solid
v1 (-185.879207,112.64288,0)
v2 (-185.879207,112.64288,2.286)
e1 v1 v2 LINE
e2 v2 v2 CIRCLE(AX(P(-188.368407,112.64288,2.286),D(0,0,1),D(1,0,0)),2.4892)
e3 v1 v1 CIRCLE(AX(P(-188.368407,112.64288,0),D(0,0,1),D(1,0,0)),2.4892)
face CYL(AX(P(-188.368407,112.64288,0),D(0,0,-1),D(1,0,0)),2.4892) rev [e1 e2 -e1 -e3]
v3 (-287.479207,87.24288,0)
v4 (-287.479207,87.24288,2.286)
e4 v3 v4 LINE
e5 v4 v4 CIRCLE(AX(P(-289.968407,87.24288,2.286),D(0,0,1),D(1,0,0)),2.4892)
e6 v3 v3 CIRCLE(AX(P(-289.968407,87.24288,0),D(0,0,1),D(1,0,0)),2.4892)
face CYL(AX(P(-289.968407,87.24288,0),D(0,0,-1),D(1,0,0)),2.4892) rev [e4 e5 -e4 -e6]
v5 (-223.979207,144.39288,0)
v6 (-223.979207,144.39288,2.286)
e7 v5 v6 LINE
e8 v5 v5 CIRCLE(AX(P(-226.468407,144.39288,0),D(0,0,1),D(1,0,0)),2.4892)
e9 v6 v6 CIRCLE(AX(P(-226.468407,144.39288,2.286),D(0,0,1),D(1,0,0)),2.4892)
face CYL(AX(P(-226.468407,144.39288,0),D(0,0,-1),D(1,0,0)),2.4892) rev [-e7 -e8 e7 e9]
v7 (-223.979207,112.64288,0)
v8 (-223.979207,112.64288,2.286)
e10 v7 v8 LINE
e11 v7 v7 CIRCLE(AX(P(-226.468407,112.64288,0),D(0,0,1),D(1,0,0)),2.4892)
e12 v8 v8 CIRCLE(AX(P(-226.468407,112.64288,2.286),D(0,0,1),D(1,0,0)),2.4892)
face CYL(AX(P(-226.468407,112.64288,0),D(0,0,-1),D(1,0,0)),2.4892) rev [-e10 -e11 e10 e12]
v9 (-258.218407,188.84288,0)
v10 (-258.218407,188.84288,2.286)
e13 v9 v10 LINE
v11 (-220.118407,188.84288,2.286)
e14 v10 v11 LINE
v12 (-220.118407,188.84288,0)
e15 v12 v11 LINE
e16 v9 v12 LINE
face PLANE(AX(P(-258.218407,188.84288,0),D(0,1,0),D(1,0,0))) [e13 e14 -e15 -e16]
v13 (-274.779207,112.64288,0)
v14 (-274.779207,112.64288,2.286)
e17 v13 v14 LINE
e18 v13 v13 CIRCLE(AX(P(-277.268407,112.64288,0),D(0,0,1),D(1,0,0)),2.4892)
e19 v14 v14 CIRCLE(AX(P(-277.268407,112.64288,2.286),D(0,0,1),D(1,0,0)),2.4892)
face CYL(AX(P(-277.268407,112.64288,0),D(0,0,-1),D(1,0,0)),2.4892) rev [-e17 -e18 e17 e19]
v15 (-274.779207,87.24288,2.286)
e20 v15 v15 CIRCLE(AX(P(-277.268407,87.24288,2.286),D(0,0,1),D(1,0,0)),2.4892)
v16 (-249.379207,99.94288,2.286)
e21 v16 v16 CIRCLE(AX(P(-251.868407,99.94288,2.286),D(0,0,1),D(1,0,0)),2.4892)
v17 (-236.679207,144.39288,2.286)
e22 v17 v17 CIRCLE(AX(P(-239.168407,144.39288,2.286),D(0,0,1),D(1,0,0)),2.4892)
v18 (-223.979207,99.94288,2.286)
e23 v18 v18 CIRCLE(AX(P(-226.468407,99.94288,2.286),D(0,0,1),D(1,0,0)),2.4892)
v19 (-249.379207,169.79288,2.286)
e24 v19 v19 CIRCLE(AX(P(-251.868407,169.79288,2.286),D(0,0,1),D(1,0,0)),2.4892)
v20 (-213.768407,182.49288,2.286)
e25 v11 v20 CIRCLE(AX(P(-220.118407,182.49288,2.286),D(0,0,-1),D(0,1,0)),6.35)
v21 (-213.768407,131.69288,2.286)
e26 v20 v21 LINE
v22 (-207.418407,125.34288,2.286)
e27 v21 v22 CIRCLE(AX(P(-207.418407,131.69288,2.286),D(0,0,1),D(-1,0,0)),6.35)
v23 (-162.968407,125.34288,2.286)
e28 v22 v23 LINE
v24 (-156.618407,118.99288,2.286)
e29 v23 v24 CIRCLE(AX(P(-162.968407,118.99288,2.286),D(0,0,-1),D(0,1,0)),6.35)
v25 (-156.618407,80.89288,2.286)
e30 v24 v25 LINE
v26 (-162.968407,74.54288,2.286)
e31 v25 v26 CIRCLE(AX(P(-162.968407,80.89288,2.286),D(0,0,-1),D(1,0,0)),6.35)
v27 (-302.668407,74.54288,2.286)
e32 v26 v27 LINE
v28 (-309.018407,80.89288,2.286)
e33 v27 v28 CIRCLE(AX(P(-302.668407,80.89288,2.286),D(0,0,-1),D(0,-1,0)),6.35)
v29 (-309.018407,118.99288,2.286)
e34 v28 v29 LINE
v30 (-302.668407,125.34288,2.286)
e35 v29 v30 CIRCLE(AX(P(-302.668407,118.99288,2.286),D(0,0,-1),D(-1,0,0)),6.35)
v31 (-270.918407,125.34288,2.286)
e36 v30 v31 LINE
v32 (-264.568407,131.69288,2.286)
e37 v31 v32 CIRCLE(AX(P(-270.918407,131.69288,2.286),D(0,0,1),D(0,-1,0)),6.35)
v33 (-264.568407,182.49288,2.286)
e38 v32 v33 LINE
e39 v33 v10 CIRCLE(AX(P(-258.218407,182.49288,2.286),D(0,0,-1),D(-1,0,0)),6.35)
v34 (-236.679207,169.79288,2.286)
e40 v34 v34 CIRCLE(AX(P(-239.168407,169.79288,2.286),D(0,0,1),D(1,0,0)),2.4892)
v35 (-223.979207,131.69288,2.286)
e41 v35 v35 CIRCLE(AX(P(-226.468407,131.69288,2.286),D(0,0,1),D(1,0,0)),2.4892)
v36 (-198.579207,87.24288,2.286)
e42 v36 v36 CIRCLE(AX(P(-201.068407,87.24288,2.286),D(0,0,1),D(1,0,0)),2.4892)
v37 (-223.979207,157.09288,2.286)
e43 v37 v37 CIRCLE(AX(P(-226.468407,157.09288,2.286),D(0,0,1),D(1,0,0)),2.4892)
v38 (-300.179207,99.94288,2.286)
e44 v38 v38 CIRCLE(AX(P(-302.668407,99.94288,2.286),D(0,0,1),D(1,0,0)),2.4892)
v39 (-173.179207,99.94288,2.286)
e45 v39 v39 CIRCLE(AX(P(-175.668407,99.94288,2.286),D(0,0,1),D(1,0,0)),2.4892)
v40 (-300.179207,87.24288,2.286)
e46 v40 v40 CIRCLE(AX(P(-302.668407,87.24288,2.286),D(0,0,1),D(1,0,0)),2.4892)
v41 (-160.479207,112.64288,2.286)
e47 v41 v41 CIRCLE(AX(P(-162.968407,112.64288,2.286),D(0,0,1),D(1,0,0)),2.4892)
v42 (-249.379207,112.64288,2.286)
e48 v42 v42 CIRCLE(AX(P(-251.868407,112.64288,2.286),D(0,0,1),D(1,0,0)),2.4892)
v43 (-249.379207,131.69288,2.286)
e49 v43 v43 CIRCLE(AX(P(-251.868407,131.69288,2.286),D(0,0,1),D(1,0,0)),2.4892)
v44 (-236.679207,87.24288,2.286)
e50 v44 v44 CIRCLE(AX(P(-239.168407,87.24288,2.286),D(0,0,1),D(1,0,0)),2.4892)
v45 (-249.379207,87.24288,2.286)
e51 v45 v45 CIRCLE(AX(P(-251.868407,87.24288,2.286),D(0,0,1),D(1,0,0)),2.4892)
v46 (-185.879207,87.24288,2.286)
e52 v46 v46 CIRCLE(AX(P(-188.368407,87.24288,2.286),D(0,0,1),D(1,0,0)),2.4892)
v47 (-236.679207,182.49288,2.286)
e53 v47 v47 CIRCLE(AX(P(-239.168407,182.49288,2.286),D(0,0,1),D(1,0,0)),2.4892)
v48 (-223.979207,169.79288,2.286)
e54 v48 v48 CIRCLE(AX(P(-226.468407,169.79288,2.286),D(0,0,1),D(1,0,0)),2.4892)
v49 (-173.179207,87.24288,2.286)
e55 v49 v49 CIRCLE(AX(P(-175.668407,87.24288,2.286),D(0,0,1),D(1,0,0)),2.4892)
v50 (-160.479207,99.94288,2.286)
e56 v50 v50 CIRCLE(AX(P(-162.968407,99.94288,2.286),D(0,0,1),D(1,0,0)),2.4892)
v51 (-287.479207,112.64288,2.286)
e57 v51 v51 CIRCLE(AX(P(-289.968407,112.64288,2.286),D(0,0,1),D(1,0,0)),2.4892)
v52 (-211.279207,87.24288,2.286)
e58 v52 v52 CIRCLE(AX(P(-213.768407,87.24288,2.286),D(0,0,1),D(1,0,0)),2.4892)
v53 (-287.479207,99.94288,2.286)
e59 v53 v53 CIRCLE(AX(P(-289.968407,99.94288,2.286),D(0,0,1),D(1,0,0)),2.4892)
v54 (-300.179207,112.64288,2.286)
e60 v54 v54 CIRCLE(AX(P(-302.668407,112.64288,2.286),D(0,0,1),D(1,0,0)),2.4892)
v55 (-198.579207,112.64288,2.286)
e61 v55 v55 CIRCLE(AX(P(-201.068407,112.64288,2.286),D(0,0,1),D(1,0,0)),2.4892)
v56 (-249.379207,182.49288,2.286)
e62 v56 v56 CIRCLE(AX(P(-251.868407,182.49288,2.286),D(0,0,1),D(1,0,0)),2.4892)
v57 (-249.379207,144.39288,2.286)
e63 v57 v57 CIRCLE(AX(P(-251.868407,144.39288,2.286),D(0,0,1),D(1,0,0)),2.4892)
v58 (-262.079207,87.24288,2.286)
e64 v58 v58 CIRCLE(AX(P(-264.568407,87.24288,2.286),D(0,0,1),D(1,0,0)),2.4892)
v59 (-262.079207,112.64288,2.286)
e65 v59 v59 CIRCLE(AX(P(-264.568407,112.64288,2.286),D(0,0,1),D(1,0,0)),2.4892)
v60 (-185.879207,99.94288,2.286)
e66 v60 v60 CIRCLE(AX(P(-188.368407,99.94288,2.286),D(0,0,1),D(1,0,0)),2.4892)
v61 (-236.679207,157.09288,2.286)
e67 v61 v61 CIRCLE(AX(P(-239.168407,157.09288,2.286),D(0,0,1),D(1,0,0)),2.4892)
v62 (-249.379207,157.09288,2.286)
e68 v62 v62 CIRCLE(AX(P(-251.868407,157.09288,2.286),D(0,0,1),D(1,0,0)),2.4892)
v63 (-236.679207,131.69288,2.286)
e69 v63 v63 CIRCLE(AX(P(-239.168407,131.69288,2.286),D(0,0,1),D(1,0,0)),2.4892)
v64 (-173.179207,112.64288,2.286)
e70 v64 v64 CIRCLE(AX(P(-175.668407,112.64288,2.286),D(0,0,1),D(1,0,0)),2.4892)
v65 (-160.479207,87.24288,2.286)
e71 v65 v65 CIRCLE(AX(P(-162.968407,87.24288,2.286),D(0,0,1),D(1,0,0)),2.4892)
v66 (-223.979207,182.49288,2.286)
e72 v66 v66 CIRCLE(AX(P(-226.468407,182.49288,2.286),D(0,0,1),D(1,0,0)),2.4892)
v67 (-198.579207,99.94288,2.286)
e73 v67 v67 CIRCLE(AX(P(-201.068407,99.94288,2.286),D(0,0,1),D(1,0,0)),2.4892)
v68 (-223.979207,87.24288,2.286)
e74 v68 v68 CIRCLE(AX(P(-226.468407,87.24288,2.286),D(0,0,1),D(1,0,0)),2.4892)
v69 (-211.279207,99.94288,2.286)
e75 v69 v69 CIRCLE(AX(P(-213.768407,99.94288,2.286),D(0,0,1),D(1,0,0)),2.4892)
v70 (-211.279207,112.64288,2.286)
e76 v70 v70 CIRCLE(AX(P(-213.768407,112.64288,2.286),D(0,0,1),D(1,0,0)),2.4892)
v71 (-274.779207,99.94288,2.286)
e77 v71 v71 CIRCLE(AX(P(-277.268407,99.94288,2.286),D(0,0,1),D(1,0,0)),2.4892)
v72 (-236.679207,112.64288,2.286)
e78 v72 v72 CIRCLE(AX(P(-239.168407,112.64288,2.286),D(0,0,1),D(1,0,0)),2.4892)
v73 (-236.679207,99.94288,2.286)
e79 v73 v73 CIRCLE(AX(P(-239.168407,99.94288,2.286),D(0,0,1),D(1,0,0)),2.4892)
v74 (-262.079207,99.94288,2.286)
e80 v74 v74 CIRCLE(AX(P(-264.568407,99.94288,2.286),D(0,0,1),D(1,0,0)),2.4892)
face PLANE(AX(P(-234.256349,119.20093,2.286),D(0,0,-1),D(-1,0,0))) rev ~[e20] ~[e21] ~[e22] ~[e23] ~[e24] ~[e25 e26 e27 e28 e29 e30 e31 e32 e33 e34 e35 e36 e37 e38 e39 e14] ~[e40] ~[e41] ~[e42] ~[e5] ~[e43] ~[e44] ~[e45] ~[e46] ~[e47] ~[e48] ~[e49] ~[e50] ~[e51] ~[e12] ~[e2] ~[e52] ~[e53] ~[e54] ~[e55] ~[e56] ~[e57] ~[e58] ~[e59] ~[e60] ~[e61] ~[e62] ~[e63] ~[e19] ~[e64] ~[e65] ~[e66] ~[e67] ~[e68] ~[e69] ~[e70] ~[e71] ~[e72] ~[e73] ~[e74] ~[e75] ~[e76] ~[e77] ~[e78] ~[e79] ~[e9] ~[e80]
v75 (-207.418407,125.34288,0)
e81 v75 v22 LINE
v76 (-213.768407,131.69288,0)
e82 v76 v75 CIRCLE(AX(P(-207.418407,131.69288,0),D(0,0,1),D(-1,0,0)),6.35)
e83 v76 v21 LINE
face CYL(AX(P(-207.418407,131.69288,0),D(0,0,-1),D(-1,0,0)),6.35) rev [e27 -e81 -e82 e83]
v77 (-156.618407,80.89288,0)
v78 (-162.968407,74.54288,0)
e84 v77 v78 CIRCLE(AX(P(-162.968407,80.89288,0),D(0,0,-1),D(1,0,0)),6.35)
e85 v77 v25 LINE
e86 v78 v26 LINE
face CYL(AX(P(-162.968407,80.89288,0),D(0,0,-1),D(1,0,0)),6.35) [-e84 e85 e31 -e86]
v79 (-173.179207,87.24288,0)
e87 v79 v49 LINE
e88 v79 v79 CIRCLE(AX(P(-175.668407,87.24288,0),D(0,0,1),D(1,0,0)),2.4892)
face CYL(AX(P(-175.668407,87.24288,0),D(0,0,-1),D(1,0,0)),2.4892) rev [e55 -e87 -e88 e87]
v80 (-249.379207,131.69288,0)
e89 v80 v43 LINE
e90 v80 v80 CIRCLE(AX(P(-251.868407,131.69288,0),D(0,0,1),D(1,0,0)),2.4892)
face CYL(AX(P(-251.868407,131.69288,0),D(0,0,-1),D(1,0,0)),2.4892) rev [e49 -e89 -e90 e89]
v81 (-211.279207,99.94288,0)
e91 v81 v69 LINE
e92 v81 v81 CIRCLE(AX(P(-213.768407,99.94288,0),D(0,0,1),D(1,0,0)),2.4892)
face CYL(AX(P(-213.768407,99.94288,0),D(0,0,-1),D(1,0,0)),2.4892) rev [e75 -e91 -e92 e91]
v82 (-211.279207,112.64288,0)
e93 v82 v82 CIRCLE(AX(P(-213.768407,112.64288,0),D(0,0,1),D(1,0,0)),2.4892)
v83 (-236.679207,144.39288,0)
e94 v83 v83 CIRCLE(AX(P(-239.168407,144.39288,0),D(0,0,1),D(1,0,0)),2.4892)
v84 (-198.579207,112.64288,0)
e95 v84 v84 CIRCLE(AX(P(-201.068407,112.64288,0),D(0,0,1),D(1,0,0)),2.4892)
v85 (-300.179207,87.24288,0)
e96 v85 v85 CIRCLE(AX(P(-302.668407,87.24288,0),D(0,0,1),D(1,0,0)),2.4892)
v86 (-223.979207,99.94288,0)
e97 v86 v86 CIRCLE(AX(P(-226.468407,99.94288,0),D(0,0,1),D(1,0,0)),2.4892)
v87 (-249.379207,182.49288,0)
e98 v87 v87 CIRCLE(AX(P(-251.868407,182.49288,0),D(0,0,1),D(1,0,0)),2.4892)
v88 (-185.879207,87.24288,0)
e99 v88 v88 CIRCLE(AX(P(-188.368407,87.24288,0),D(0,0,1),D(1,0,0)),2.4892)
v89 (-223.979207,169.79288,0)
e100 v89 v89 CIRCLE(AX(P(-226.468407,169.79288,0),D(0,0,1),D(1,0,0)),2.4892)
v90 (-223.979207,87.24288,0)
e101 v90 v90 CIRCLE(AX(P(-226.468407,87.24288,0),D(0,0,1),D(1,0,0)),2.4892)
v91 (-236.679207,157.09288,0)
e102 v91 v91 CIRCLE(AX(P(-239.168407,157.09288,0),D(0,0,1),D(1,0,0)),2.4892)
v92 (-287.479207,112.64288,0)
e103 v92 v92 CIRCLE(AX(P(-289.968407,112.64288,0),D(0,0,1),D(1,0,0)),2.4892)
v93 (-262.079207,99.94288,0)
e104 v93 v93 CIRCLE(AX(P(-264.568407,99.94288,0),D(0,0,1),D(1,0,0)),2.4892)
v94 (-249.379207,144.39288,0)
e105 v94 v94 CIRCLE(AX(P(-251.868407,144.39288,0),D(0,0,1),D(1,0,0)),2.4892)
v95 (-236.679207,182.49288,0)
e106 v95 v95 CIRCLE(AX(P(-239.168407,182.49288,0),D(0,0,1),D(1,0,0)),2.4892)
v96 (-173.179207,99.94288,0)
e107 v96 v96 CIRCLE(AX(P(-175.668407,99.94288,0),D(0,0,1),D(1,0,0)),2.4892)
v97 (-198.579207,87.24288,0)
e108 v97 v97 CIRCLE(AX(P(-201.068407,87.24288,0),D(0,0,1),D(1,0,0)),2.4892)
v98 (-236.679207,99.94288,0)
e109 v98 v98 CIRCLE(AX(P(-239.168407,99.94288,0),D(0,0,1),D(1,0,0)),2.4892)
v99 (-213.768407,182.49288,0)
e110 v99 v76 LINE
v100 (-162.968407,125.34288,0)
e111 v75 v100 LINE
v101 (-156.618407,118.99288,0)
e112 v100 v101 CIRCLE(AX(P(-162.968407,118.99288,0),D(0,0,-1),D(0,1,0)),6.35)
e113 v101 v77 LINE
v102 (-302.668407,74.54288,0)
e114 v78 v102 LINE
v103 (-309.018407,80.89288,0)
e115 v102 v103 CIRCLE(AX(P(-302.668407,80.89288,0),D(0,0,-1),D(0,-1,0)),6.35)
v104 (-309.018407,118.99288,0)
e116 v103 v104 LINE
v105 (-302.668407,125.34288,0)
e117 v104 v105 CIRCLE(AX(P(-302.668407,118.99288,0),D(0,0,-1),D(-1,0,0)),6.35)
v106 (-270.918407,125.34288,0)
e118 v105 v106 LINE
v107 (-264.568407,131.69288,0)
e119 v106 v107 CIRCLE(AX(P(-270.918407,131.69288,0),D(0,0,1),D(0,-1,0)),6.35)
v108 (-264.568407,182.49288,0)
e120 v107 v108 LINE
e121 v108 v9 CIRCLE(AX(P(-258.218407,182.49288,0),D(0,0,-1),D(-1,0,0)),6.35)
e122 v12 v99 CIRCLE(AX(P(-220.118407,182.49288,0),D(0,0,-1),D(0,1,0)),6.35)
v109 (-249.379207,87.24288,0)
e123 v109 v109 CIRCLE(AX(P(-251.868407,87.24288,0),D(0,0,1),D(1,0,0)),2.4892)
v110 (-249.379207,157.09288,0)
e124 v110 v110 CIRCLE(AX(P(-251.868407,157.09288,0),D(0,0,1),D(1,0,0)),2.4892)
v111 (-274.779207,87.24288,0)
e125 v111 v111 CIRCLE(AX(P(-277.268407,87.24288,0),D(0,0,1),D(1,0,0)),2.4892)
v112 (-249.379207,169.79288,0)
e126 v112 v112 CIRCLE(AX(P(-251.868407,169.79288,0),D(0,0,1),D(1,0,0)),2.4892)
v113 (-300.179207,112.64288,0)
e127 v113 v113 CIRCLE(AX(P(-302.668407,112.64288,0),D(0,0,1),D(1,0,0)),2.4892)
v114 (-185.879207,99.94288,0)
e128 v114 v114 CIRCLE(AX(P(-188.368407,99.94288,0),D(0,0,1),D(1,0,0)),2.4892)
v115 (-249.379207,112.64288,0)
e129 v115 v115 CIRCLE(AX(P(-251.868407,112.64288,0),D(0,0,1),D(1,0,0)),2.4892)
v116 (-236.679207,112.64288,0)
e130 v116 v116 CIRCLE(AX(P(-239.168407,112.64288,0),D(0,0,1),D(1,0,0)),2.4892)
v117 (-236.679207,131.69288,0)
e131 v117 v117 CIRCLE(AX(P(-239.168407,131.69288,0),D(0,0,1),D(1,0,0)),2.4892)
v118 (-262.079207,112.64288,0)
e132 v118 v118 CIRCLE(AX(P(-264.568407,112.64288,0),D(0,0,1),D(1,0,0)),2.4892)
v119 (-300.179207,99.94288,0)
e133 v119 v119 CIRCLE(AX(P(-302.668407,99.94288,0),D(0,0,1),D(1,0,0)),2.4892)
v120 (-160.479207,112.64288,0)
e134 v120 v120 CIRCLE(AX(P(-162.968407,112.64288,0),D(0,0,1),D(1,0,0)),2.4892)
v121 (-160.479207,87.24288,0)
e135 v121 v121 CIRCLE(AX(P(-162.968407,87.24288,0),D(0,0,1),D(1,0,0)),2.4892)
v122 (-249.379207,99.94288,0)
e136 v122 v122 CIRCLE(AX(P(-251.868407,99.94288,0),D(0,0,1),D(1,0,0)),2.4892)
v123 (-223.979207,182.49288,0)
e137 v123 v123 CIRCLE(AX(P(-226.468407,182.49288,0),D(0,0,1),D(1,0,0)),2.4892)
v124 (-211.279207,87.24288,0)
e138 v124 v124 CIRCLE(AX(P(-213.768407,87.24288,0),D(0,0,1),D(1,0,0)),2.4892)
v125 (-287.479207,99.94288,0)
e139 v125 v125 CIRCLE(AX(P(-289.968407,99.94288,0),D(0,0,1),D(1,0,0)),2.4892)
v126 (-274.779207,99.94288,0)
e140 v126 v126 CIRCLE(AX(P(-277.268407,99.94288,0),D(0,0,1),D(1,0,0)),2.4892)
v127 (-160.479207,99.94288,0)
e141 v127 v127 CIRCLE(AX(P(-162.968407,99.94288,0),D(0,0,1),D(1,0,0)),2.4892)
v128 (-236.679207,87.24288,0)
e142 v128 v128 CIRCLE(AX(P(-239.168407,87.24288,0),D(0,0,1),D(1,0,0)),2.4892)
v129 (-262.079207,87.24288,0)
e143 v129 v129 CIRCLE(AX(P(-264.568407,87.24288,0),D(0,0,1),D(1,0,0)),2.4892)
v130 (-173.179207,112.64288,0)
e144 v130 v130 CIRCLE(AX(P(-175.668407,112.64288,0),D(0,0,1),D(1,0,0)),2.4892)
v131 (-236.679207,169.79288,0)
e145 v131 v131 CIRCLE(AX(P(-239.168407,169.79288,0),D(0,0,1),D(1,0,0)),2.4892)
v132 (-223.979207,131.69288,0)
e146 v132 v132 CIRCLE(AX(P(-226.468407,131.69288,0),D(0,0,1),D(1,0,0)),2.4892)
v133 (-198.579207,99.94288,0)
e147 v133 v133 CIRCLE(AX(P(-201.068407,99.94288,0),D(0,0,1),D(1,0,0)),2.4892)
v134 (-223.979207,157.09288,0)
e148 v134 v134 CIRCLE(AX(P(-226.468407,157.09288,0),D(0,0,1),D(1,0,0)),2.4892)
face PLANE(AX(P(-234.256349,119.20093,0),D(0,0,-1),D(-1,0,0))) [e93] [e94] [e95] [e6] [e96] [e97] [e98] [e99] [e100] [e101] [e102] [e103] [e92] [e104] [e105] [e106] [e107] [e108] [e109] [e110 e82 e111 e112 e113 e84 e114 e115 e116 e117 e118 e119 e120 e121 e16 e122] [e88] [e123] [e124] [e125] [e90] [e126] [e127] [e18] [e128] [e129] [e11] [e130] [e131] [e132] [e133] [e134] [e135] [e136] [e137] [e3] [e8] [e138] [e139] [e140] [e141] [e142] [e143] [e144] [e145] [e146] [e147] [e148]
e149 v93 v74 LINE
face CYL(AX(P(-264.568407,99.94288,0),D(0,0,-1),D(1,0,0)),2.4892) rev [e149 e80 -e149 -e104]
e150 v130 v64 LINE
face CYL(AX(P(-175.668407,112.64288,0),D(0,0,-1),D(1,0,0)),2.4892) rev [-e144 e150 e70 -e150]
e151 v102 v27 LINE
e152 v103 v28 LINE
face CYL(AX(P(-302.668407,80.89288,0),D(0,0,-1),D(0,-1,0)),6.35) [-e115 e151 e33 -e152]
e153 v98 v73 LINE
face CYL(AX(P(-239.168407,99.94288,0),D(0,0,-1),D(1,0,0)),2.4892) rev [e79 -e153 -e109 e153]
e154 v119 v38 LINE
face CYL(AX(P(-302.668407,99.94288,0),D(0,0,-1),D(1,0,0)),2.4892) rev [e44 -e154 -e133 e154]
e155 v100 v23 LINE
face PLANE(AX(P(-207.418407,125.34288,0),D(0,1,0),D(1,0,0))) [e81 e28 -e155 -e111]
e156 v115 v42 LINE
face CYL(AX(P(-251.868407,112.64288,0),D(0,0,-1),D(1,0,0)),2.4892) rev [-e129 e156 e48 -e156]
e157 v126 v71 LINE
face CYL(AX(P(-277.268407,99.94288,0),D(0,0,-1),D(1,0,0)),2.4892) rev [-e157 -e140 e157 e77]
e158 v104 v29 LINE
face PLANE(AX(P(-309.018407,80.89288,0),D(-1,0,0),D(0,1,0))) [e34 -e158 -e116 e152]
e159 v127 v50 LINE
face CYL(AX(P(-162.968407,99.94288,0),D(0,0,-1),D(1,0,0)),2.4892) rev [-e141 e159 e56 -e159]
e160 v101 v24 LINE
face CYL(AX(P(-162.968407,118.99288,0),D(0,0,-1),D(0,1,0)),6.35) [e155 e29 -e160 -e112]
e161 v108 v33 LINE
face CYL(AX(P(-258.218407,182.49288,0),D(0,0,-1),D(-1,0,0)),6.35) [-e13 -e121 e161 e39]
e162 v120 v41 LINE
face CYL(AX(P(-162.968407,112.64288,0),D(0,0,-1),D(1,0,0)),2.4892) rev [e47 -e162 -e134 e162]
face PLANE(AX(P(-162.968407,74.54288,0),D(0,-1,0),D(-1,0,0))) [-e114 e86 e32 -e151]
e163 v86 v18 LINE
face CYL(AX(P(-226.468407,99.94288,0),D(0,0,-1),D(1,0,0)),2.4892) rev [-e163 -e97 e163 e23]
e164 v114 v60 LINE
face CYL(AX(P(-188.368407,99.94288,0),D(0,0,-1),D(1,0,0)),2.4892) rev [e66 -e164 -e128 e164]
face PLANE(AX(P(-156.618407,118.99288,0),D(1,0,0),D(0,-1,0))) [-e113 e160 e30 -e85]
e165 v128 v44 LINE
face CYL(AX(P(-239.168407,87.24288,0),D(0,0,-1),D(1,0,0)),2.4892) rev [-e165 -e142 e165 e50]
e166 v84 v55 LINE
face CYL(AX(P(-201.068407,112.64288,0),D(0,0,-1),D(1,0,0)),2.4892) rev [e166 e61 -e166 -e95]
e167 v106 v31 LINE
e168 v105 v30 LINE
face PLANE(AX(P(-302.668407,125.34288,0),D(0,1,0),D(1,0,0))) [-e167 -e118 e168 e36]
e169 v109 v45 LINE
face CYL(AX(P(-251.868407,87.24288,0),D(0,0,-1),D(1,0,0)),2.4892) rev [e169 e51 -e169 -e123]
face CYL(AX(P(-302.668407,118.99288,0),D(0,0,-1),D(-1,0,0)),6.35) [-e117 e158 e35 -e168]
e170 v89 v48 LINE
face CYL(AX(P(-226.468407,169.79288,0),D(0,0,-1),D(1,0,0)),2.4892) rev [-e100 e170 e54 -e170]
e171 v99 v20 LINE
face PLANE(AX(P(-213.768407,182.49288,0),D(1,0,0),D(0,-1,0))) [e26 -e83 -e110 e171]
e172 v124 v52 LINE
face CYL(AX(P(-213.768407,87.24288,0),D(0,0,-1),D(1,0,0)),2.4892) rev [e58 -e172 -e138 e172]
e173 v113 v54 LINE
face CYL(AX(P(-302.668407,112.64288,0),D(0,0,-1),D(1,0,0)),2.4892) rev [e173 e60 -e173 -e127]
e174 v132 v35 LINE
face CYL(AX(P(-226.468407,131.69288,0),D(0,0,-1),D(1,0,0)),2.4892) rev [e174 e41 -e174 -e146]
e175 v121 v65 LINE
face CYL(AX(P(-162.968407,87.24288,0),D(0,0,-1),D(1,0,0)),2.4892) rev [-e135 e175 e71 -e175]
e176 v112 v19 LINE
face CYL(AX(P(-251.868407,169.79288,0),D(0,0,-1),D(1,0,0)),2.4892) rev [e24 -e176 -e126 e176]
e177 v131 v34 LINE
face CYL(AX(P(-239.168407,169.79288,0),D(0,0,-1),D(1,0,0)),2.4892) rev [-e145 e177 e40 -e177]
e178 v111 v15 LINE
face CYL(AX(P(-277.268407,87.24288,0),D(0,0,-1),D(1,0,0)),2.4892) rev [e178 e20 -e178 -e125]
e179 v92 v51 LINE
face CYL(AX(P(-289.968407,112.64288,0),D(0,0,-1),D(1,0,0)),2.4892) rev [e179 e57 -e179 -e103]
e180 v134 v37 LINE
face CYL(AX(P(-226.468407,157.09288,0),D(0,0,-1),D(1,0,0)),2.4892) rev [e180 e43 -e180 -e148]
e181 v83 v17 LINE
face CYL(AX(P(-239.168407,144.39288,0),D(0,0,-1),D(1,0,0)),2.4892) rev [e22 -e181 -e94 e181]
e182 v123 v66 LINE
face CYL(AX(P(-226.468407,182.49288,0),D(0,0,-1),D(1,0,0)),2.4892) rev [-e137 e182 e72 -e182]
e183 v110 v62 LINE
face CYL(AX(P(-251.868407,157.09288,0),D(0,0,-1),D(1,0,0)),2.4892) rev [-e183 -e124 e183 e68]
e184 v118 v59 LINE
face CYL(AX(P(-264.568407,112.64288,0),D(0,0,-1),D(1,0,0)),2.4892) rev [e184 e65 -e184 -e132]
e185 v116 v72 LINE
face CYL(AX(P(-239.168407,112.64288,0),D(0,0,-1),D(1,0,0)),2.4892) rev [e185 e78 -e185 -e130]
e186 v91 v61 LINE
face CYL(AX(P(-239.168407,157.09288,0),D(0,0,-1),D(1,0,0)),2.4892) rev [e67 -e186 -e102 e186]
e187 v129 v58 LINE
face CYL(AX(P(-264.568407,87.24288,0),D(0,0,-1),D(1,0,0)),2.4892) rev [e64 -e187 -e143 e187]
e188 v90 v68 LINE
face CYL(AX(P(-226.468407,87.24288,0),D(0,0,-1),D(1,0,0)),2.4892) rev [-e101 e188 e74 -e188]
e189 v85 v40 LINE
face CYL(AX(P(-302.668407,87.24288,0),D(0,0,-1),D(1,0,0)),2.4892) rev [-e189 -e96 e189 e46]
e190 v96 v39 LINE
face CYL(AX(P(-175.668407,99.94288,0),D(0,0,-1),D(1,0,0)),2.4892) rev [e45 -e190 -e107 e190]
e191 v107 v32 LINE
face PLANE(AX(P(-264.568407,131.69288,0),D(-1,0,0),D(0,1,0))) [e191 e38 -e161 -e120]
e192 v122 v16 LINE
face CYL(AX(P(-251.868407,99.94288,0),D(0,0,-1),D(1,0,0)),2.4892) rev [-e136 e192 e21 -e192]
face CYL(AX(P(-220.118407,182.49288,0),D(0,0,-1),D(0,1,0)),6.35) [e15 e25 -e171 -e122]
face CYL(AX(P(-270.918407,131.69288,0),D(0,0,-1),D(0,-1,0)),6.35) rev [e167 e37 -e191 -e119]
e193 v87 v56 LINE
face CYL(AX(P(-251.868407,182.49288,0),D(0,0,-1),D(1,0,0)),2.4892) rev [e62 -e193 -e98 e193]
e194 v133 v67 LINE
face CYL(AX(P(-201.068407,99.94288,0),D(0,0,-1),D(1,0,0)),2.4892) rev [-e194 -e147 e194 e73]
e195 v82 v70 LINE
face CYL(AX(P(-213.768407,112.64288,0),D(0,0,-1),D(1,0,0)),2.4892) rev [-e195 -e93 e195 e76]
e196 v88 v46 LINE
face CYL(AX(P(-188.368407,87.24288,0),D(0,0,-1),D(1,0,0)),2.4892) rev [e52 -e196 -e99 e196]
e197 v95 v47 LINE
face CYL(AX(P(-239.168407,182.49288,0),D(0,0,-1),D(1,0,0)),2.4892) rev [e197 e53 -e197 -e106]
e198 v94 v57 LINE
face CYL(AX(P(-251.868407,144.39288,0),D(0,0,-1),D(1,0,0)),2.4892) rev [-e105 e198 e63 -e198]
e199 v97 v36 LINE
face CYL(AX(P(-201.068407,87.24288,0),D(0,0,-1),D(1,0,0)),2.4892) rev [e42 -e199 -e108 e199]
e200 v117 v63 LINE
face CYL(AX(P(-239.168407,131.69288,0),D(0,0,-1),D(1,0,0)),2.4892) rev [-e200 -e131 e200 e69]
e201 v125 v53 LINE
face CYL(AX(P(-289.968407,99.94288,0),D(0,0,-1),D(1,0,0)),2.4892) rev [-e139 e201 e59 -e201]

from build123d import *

# Parameters (mm, degrees)
SKETCH1_R           = 2.4892
BOSS_EXTRUDE1_DEPTH = 2.286


with BuildPart() as part:
    # Sketch1 → Boss-Extrude1 (new body)
    with BuildSketch(Plane.XY):
        with BuildLine():
            Line((-258.218407496, 188.842880428), (-220.118407496, 188.842880428))
            ThreePointArc((-220.118407496, 188.842880428), (-215.628279435, 186.983008489), (-213.768407496, 182.492880428))
            Line((-213.768407496, 182.492880428), (-213.768407496, 131.692880428))
            ThreePointArc((-213.768407496, 131.692880428), (-211.908535556, 127.202752368), (-207.418407496, 125.342880428))
            Line((-207.418407496, 125.342880428), (-162.968407496, 125.342880428))
            ThreePointArc((-162.968407496, 125.342880428), (-158.478279435, 123.483008489), (-156.618407496, 118.992880428))
            Line((-156.618407496, 118.992880428), (-156.618407496, 80.892880428))
            ThreePointArc((-156.618407496, 80.892880428), (-158.478279435, 76.402752368), (-162.968407496, 74.542880428))
            Line((-162.968407496, 74.542880428), (-302.668407496, 74.542880428))
            ThreePointArc((-302.668407496, 74.542880428), (-307.158535556, 76.402752368), (-309.018407496, 80.892880428))
            Line((-309.018407496, 80.892880428), (-309.018407496, 118.992880428))
            ThreePointArc((-309.018407496, 118.992880428), (-307.158535556, 123.483008489), (-302.668407496, 125.342880428))
            Line((-302.668407496, 125.342880428), (-270.918407496, 125.342880428))
            ThreePointArc((-270.918407496, 125.342880428), (-266.428279435, 127.202752368), (-264.568407496, 131.692880428))
            Line((-264.568407496, 131.692880428), (-264.568407496, 182.492880428))
            ThreePointArc((-264.568407496, 182.492880428), (-262.708535556, 186.983008489), (-258.218407496, 188.842880428))
        make_face()
        with Locations((-226.468407496, 157.092880428)):
            Circle(SKETCH1_R, mode=Mode.SUBTRACT)
        with Locations((-226.468407496, 144.392880428)):
            Circle(SKETCH1_R, mode=Mode.SUBTRACT)
        with Locations((-226.468407496, 131.692880428)):
            Circle(SKETCH1_R, mode=Mode.SUBTRACT)
        with Locations((-239.168407496, 131.692880428)):
            Circle(SKETCH1_R, mode=Mode.SUBTRACT)
        with Locations((-251.868407496, 131.692880428)):
            Circle(SKETCH1_R, mode=Mode.SUBTRACT)
        with Locations((-251.868407496, 144.392880428)):
            Circle(SKETCH1_R, mode=Mode.SUBTRACT)
        with Locations((-239.168407496, 144.392880428)):
            Circle(SKETCH1_R, mode=Mode.SUBTRACT)
        with Locations((-239.168407496, 157.092880428)):
            Circle(SKETCH1_R, mode=Mode.SUBTRACT)
        with Locations((-251.868407496, 157.092880428)):
            Circle(SKETCH1_R, mode=Mode.SUBTRACT)
        with Locations((-226.468407496, 169.792880428)):
            Circle(SKETCH1_R, mode=Mode.SUBTRACT)
        with Locations((-226.468407496, 182.492880428)):
            Circle(SKETCH1_R, mode=Mode.SUBTRACT)
        with Locations((-239.168407496, 182.492880428)):
            Circle(SKETCH1_R, mode=Mode.SUBTRACT)
        with Locations((-239.168407496, 169.792880428)):
            Circle(SKETCH1_R, mode=Mode.SUBTRACT)
        with Locations((-251.868407496, 169.792880428)):
            Circle(SKETCH1_R, mode=Mode.SUBTRACT)
        with Locations((-251.868407496, 182.492880428)):
            Circle(SKETCH1_R, mode=Mode.SUBTRACT)
        with Locations((-302.668407496, 112.642880428)):
            Circle(SKETCH1_R, mode=Mode.SUBTRACT)
        with Locations((-289.968407496, 112.642880428)):
            Circle(SKETCH1_R, mode=Mode.SUBTRACT)
        with Locations((-277.268407496, 112.642880428)):
            Circle(SKETCH1_R, mode=Mode.SUBTRACT)
        with Locations((-264.568407496, 112.642880428)):
            Circle(SKETCH1_R, mode=Mode.SUBTRACT)
        with Locations((-251.868407496, 112.642880428)):
            Circle(SKETCH1_R, mode=Mode.SUBTRACT)
        with Locations((-239.168407496, 112.642880428)):
            Circle(SKETCH1_R, mode=Mode.SUBTRACT)
        with Locations((-226.468407496, 112.642880428)):
            Circle(SKETCH1_R, mode=Mode.SUBTRACT)
        with Locations((-213.768407496, 112.642880428)):
            Circle(SKETCH1_R, mode=Mode.SUBTRACT)
        with Locations((-201.068407496, 112.642880428)):
            Circle(SKETCH1_R, mode=Mode.SUBTRACT)
        with Locations((-188.368407496, 112.642880428)):
            Circle(SKETCH1_R, mode=Mode.SUBTRACT)
        with Locations((-175.668407496, 112.642880428)):
            Circle(SKETCH1_R, mode=Mode.SUBTRACT)
        with Locations((-162.968407496, 112.642880428)):
            Circle(SKETCH1_R, mode=Mode.SUBTRACT)
        with Locations((-289.968407496, 99.942880428)):
            Circle(SKETCH1_R, mode=Mode.SUBTRACT)
        with Locations((-277.268407496, 99.942880428)):
            Circle(SKETCH1_R, mode=Mode.SUBTRACT)
        with Locations((-264.568407496, 99.942880428)):
            Circle(SKETCH1_R, mode=Mode.SUBTRACT)
        with Locations((-251.868407496, 99.942880428)):
            Circle(SKETCH1_R, mode=Mode.SUBTRACT)
        with Locations((-239.168407496, 99.942880428)):
            Circle(SKETCH1_R, mode=Mode.SUBTRACT)
        with Locations((-226.468407496, 99.942880428)):
            Circle(SKETCH1_R, mode=Mode.SUBTRACT)
        with Locations((-213.768407496, 99.942880428)):
            Circle(SKETCH1_R, mode=Mode.SUBTRACT)
        with Locations((-201.068407496, 99.942880428)):
            Circle(SKETCH1_R, mode=Mode.SUBTRACT)
        with Locations((-188.368407496, 99.942880428)):
            Circle(SKETCH1_R, mode=Mode.SUBTRACT)
        with Locations((-175.668407496, 99.942880428)):
            Circle(SKETCH1_R, mode=Mode.SUBTRACT)
        with Locations((-162.968407496, 99.942880428)):
            Circle(SKETCH1_R, mode=Mode.SUBTRACT)
        with Locations((-289.968407496, 87.242880428)):
            Circle(SKETCH1_R, mode=Mode.SUBTRACT)
        with Locations((-277.268407496, 87.242880428)):
            Circle(SKETCH1_R, mode=Mode.SUBTRACT)
        with Locations((-264.568407496, 87.242880428)):
            Circle(SKETCH1_R, mode=Mode.SUBTRACT)
        with Locations((-251.868407496, 87.242880428)):
            Circle(SKETCH1_R, mode=Mode.SUBTRACT)
        with Locations((-239.168407496, 87.242880428)):
            Circle(SKETCH1_R, mode=Mode.SUBTRACT)
        with Locations((-226.468407496, 87.242880428)):
            Circle(SKETCH1_R, mode=Mode.SUBTRACT)
        with Locations((-213.768407496, 87.242880428)):
            Circle(SKETCH1_R, mode=Mode.SUBTRACT)
        with Locations((-201.068407496, 87.242880428)):
            Circle(SKETCH1_R, mode=Mode.SUBTRACT)
        with Locations((-188.368407496, 87.242880428)):
            Circle(SKETCH1_R, mode=Mode.SUBTRACT)
        with Locations((-175.668407496, 87.242880428)):
            Circle(SKETCH1_R, mode=Mode.SUBTRACT)
        with Locations((-162.968407496, 87.242880428)):
            Circle(SKETCH1_R, mode=Mode.SUBTRACT)
        with Locations((-302.668407496, 99.942880428)):
            Circle(SKETCH1_R, mode=Mode.SUBTRACT)
        with Locations((-302.668407496, 87.242880428)):
            Circle(SKETCH1_R, mode=Mode.SUBTRACT)
    extrude(amount=BOSS_EXTRUDE1_DEPTH)


solid = part.part
